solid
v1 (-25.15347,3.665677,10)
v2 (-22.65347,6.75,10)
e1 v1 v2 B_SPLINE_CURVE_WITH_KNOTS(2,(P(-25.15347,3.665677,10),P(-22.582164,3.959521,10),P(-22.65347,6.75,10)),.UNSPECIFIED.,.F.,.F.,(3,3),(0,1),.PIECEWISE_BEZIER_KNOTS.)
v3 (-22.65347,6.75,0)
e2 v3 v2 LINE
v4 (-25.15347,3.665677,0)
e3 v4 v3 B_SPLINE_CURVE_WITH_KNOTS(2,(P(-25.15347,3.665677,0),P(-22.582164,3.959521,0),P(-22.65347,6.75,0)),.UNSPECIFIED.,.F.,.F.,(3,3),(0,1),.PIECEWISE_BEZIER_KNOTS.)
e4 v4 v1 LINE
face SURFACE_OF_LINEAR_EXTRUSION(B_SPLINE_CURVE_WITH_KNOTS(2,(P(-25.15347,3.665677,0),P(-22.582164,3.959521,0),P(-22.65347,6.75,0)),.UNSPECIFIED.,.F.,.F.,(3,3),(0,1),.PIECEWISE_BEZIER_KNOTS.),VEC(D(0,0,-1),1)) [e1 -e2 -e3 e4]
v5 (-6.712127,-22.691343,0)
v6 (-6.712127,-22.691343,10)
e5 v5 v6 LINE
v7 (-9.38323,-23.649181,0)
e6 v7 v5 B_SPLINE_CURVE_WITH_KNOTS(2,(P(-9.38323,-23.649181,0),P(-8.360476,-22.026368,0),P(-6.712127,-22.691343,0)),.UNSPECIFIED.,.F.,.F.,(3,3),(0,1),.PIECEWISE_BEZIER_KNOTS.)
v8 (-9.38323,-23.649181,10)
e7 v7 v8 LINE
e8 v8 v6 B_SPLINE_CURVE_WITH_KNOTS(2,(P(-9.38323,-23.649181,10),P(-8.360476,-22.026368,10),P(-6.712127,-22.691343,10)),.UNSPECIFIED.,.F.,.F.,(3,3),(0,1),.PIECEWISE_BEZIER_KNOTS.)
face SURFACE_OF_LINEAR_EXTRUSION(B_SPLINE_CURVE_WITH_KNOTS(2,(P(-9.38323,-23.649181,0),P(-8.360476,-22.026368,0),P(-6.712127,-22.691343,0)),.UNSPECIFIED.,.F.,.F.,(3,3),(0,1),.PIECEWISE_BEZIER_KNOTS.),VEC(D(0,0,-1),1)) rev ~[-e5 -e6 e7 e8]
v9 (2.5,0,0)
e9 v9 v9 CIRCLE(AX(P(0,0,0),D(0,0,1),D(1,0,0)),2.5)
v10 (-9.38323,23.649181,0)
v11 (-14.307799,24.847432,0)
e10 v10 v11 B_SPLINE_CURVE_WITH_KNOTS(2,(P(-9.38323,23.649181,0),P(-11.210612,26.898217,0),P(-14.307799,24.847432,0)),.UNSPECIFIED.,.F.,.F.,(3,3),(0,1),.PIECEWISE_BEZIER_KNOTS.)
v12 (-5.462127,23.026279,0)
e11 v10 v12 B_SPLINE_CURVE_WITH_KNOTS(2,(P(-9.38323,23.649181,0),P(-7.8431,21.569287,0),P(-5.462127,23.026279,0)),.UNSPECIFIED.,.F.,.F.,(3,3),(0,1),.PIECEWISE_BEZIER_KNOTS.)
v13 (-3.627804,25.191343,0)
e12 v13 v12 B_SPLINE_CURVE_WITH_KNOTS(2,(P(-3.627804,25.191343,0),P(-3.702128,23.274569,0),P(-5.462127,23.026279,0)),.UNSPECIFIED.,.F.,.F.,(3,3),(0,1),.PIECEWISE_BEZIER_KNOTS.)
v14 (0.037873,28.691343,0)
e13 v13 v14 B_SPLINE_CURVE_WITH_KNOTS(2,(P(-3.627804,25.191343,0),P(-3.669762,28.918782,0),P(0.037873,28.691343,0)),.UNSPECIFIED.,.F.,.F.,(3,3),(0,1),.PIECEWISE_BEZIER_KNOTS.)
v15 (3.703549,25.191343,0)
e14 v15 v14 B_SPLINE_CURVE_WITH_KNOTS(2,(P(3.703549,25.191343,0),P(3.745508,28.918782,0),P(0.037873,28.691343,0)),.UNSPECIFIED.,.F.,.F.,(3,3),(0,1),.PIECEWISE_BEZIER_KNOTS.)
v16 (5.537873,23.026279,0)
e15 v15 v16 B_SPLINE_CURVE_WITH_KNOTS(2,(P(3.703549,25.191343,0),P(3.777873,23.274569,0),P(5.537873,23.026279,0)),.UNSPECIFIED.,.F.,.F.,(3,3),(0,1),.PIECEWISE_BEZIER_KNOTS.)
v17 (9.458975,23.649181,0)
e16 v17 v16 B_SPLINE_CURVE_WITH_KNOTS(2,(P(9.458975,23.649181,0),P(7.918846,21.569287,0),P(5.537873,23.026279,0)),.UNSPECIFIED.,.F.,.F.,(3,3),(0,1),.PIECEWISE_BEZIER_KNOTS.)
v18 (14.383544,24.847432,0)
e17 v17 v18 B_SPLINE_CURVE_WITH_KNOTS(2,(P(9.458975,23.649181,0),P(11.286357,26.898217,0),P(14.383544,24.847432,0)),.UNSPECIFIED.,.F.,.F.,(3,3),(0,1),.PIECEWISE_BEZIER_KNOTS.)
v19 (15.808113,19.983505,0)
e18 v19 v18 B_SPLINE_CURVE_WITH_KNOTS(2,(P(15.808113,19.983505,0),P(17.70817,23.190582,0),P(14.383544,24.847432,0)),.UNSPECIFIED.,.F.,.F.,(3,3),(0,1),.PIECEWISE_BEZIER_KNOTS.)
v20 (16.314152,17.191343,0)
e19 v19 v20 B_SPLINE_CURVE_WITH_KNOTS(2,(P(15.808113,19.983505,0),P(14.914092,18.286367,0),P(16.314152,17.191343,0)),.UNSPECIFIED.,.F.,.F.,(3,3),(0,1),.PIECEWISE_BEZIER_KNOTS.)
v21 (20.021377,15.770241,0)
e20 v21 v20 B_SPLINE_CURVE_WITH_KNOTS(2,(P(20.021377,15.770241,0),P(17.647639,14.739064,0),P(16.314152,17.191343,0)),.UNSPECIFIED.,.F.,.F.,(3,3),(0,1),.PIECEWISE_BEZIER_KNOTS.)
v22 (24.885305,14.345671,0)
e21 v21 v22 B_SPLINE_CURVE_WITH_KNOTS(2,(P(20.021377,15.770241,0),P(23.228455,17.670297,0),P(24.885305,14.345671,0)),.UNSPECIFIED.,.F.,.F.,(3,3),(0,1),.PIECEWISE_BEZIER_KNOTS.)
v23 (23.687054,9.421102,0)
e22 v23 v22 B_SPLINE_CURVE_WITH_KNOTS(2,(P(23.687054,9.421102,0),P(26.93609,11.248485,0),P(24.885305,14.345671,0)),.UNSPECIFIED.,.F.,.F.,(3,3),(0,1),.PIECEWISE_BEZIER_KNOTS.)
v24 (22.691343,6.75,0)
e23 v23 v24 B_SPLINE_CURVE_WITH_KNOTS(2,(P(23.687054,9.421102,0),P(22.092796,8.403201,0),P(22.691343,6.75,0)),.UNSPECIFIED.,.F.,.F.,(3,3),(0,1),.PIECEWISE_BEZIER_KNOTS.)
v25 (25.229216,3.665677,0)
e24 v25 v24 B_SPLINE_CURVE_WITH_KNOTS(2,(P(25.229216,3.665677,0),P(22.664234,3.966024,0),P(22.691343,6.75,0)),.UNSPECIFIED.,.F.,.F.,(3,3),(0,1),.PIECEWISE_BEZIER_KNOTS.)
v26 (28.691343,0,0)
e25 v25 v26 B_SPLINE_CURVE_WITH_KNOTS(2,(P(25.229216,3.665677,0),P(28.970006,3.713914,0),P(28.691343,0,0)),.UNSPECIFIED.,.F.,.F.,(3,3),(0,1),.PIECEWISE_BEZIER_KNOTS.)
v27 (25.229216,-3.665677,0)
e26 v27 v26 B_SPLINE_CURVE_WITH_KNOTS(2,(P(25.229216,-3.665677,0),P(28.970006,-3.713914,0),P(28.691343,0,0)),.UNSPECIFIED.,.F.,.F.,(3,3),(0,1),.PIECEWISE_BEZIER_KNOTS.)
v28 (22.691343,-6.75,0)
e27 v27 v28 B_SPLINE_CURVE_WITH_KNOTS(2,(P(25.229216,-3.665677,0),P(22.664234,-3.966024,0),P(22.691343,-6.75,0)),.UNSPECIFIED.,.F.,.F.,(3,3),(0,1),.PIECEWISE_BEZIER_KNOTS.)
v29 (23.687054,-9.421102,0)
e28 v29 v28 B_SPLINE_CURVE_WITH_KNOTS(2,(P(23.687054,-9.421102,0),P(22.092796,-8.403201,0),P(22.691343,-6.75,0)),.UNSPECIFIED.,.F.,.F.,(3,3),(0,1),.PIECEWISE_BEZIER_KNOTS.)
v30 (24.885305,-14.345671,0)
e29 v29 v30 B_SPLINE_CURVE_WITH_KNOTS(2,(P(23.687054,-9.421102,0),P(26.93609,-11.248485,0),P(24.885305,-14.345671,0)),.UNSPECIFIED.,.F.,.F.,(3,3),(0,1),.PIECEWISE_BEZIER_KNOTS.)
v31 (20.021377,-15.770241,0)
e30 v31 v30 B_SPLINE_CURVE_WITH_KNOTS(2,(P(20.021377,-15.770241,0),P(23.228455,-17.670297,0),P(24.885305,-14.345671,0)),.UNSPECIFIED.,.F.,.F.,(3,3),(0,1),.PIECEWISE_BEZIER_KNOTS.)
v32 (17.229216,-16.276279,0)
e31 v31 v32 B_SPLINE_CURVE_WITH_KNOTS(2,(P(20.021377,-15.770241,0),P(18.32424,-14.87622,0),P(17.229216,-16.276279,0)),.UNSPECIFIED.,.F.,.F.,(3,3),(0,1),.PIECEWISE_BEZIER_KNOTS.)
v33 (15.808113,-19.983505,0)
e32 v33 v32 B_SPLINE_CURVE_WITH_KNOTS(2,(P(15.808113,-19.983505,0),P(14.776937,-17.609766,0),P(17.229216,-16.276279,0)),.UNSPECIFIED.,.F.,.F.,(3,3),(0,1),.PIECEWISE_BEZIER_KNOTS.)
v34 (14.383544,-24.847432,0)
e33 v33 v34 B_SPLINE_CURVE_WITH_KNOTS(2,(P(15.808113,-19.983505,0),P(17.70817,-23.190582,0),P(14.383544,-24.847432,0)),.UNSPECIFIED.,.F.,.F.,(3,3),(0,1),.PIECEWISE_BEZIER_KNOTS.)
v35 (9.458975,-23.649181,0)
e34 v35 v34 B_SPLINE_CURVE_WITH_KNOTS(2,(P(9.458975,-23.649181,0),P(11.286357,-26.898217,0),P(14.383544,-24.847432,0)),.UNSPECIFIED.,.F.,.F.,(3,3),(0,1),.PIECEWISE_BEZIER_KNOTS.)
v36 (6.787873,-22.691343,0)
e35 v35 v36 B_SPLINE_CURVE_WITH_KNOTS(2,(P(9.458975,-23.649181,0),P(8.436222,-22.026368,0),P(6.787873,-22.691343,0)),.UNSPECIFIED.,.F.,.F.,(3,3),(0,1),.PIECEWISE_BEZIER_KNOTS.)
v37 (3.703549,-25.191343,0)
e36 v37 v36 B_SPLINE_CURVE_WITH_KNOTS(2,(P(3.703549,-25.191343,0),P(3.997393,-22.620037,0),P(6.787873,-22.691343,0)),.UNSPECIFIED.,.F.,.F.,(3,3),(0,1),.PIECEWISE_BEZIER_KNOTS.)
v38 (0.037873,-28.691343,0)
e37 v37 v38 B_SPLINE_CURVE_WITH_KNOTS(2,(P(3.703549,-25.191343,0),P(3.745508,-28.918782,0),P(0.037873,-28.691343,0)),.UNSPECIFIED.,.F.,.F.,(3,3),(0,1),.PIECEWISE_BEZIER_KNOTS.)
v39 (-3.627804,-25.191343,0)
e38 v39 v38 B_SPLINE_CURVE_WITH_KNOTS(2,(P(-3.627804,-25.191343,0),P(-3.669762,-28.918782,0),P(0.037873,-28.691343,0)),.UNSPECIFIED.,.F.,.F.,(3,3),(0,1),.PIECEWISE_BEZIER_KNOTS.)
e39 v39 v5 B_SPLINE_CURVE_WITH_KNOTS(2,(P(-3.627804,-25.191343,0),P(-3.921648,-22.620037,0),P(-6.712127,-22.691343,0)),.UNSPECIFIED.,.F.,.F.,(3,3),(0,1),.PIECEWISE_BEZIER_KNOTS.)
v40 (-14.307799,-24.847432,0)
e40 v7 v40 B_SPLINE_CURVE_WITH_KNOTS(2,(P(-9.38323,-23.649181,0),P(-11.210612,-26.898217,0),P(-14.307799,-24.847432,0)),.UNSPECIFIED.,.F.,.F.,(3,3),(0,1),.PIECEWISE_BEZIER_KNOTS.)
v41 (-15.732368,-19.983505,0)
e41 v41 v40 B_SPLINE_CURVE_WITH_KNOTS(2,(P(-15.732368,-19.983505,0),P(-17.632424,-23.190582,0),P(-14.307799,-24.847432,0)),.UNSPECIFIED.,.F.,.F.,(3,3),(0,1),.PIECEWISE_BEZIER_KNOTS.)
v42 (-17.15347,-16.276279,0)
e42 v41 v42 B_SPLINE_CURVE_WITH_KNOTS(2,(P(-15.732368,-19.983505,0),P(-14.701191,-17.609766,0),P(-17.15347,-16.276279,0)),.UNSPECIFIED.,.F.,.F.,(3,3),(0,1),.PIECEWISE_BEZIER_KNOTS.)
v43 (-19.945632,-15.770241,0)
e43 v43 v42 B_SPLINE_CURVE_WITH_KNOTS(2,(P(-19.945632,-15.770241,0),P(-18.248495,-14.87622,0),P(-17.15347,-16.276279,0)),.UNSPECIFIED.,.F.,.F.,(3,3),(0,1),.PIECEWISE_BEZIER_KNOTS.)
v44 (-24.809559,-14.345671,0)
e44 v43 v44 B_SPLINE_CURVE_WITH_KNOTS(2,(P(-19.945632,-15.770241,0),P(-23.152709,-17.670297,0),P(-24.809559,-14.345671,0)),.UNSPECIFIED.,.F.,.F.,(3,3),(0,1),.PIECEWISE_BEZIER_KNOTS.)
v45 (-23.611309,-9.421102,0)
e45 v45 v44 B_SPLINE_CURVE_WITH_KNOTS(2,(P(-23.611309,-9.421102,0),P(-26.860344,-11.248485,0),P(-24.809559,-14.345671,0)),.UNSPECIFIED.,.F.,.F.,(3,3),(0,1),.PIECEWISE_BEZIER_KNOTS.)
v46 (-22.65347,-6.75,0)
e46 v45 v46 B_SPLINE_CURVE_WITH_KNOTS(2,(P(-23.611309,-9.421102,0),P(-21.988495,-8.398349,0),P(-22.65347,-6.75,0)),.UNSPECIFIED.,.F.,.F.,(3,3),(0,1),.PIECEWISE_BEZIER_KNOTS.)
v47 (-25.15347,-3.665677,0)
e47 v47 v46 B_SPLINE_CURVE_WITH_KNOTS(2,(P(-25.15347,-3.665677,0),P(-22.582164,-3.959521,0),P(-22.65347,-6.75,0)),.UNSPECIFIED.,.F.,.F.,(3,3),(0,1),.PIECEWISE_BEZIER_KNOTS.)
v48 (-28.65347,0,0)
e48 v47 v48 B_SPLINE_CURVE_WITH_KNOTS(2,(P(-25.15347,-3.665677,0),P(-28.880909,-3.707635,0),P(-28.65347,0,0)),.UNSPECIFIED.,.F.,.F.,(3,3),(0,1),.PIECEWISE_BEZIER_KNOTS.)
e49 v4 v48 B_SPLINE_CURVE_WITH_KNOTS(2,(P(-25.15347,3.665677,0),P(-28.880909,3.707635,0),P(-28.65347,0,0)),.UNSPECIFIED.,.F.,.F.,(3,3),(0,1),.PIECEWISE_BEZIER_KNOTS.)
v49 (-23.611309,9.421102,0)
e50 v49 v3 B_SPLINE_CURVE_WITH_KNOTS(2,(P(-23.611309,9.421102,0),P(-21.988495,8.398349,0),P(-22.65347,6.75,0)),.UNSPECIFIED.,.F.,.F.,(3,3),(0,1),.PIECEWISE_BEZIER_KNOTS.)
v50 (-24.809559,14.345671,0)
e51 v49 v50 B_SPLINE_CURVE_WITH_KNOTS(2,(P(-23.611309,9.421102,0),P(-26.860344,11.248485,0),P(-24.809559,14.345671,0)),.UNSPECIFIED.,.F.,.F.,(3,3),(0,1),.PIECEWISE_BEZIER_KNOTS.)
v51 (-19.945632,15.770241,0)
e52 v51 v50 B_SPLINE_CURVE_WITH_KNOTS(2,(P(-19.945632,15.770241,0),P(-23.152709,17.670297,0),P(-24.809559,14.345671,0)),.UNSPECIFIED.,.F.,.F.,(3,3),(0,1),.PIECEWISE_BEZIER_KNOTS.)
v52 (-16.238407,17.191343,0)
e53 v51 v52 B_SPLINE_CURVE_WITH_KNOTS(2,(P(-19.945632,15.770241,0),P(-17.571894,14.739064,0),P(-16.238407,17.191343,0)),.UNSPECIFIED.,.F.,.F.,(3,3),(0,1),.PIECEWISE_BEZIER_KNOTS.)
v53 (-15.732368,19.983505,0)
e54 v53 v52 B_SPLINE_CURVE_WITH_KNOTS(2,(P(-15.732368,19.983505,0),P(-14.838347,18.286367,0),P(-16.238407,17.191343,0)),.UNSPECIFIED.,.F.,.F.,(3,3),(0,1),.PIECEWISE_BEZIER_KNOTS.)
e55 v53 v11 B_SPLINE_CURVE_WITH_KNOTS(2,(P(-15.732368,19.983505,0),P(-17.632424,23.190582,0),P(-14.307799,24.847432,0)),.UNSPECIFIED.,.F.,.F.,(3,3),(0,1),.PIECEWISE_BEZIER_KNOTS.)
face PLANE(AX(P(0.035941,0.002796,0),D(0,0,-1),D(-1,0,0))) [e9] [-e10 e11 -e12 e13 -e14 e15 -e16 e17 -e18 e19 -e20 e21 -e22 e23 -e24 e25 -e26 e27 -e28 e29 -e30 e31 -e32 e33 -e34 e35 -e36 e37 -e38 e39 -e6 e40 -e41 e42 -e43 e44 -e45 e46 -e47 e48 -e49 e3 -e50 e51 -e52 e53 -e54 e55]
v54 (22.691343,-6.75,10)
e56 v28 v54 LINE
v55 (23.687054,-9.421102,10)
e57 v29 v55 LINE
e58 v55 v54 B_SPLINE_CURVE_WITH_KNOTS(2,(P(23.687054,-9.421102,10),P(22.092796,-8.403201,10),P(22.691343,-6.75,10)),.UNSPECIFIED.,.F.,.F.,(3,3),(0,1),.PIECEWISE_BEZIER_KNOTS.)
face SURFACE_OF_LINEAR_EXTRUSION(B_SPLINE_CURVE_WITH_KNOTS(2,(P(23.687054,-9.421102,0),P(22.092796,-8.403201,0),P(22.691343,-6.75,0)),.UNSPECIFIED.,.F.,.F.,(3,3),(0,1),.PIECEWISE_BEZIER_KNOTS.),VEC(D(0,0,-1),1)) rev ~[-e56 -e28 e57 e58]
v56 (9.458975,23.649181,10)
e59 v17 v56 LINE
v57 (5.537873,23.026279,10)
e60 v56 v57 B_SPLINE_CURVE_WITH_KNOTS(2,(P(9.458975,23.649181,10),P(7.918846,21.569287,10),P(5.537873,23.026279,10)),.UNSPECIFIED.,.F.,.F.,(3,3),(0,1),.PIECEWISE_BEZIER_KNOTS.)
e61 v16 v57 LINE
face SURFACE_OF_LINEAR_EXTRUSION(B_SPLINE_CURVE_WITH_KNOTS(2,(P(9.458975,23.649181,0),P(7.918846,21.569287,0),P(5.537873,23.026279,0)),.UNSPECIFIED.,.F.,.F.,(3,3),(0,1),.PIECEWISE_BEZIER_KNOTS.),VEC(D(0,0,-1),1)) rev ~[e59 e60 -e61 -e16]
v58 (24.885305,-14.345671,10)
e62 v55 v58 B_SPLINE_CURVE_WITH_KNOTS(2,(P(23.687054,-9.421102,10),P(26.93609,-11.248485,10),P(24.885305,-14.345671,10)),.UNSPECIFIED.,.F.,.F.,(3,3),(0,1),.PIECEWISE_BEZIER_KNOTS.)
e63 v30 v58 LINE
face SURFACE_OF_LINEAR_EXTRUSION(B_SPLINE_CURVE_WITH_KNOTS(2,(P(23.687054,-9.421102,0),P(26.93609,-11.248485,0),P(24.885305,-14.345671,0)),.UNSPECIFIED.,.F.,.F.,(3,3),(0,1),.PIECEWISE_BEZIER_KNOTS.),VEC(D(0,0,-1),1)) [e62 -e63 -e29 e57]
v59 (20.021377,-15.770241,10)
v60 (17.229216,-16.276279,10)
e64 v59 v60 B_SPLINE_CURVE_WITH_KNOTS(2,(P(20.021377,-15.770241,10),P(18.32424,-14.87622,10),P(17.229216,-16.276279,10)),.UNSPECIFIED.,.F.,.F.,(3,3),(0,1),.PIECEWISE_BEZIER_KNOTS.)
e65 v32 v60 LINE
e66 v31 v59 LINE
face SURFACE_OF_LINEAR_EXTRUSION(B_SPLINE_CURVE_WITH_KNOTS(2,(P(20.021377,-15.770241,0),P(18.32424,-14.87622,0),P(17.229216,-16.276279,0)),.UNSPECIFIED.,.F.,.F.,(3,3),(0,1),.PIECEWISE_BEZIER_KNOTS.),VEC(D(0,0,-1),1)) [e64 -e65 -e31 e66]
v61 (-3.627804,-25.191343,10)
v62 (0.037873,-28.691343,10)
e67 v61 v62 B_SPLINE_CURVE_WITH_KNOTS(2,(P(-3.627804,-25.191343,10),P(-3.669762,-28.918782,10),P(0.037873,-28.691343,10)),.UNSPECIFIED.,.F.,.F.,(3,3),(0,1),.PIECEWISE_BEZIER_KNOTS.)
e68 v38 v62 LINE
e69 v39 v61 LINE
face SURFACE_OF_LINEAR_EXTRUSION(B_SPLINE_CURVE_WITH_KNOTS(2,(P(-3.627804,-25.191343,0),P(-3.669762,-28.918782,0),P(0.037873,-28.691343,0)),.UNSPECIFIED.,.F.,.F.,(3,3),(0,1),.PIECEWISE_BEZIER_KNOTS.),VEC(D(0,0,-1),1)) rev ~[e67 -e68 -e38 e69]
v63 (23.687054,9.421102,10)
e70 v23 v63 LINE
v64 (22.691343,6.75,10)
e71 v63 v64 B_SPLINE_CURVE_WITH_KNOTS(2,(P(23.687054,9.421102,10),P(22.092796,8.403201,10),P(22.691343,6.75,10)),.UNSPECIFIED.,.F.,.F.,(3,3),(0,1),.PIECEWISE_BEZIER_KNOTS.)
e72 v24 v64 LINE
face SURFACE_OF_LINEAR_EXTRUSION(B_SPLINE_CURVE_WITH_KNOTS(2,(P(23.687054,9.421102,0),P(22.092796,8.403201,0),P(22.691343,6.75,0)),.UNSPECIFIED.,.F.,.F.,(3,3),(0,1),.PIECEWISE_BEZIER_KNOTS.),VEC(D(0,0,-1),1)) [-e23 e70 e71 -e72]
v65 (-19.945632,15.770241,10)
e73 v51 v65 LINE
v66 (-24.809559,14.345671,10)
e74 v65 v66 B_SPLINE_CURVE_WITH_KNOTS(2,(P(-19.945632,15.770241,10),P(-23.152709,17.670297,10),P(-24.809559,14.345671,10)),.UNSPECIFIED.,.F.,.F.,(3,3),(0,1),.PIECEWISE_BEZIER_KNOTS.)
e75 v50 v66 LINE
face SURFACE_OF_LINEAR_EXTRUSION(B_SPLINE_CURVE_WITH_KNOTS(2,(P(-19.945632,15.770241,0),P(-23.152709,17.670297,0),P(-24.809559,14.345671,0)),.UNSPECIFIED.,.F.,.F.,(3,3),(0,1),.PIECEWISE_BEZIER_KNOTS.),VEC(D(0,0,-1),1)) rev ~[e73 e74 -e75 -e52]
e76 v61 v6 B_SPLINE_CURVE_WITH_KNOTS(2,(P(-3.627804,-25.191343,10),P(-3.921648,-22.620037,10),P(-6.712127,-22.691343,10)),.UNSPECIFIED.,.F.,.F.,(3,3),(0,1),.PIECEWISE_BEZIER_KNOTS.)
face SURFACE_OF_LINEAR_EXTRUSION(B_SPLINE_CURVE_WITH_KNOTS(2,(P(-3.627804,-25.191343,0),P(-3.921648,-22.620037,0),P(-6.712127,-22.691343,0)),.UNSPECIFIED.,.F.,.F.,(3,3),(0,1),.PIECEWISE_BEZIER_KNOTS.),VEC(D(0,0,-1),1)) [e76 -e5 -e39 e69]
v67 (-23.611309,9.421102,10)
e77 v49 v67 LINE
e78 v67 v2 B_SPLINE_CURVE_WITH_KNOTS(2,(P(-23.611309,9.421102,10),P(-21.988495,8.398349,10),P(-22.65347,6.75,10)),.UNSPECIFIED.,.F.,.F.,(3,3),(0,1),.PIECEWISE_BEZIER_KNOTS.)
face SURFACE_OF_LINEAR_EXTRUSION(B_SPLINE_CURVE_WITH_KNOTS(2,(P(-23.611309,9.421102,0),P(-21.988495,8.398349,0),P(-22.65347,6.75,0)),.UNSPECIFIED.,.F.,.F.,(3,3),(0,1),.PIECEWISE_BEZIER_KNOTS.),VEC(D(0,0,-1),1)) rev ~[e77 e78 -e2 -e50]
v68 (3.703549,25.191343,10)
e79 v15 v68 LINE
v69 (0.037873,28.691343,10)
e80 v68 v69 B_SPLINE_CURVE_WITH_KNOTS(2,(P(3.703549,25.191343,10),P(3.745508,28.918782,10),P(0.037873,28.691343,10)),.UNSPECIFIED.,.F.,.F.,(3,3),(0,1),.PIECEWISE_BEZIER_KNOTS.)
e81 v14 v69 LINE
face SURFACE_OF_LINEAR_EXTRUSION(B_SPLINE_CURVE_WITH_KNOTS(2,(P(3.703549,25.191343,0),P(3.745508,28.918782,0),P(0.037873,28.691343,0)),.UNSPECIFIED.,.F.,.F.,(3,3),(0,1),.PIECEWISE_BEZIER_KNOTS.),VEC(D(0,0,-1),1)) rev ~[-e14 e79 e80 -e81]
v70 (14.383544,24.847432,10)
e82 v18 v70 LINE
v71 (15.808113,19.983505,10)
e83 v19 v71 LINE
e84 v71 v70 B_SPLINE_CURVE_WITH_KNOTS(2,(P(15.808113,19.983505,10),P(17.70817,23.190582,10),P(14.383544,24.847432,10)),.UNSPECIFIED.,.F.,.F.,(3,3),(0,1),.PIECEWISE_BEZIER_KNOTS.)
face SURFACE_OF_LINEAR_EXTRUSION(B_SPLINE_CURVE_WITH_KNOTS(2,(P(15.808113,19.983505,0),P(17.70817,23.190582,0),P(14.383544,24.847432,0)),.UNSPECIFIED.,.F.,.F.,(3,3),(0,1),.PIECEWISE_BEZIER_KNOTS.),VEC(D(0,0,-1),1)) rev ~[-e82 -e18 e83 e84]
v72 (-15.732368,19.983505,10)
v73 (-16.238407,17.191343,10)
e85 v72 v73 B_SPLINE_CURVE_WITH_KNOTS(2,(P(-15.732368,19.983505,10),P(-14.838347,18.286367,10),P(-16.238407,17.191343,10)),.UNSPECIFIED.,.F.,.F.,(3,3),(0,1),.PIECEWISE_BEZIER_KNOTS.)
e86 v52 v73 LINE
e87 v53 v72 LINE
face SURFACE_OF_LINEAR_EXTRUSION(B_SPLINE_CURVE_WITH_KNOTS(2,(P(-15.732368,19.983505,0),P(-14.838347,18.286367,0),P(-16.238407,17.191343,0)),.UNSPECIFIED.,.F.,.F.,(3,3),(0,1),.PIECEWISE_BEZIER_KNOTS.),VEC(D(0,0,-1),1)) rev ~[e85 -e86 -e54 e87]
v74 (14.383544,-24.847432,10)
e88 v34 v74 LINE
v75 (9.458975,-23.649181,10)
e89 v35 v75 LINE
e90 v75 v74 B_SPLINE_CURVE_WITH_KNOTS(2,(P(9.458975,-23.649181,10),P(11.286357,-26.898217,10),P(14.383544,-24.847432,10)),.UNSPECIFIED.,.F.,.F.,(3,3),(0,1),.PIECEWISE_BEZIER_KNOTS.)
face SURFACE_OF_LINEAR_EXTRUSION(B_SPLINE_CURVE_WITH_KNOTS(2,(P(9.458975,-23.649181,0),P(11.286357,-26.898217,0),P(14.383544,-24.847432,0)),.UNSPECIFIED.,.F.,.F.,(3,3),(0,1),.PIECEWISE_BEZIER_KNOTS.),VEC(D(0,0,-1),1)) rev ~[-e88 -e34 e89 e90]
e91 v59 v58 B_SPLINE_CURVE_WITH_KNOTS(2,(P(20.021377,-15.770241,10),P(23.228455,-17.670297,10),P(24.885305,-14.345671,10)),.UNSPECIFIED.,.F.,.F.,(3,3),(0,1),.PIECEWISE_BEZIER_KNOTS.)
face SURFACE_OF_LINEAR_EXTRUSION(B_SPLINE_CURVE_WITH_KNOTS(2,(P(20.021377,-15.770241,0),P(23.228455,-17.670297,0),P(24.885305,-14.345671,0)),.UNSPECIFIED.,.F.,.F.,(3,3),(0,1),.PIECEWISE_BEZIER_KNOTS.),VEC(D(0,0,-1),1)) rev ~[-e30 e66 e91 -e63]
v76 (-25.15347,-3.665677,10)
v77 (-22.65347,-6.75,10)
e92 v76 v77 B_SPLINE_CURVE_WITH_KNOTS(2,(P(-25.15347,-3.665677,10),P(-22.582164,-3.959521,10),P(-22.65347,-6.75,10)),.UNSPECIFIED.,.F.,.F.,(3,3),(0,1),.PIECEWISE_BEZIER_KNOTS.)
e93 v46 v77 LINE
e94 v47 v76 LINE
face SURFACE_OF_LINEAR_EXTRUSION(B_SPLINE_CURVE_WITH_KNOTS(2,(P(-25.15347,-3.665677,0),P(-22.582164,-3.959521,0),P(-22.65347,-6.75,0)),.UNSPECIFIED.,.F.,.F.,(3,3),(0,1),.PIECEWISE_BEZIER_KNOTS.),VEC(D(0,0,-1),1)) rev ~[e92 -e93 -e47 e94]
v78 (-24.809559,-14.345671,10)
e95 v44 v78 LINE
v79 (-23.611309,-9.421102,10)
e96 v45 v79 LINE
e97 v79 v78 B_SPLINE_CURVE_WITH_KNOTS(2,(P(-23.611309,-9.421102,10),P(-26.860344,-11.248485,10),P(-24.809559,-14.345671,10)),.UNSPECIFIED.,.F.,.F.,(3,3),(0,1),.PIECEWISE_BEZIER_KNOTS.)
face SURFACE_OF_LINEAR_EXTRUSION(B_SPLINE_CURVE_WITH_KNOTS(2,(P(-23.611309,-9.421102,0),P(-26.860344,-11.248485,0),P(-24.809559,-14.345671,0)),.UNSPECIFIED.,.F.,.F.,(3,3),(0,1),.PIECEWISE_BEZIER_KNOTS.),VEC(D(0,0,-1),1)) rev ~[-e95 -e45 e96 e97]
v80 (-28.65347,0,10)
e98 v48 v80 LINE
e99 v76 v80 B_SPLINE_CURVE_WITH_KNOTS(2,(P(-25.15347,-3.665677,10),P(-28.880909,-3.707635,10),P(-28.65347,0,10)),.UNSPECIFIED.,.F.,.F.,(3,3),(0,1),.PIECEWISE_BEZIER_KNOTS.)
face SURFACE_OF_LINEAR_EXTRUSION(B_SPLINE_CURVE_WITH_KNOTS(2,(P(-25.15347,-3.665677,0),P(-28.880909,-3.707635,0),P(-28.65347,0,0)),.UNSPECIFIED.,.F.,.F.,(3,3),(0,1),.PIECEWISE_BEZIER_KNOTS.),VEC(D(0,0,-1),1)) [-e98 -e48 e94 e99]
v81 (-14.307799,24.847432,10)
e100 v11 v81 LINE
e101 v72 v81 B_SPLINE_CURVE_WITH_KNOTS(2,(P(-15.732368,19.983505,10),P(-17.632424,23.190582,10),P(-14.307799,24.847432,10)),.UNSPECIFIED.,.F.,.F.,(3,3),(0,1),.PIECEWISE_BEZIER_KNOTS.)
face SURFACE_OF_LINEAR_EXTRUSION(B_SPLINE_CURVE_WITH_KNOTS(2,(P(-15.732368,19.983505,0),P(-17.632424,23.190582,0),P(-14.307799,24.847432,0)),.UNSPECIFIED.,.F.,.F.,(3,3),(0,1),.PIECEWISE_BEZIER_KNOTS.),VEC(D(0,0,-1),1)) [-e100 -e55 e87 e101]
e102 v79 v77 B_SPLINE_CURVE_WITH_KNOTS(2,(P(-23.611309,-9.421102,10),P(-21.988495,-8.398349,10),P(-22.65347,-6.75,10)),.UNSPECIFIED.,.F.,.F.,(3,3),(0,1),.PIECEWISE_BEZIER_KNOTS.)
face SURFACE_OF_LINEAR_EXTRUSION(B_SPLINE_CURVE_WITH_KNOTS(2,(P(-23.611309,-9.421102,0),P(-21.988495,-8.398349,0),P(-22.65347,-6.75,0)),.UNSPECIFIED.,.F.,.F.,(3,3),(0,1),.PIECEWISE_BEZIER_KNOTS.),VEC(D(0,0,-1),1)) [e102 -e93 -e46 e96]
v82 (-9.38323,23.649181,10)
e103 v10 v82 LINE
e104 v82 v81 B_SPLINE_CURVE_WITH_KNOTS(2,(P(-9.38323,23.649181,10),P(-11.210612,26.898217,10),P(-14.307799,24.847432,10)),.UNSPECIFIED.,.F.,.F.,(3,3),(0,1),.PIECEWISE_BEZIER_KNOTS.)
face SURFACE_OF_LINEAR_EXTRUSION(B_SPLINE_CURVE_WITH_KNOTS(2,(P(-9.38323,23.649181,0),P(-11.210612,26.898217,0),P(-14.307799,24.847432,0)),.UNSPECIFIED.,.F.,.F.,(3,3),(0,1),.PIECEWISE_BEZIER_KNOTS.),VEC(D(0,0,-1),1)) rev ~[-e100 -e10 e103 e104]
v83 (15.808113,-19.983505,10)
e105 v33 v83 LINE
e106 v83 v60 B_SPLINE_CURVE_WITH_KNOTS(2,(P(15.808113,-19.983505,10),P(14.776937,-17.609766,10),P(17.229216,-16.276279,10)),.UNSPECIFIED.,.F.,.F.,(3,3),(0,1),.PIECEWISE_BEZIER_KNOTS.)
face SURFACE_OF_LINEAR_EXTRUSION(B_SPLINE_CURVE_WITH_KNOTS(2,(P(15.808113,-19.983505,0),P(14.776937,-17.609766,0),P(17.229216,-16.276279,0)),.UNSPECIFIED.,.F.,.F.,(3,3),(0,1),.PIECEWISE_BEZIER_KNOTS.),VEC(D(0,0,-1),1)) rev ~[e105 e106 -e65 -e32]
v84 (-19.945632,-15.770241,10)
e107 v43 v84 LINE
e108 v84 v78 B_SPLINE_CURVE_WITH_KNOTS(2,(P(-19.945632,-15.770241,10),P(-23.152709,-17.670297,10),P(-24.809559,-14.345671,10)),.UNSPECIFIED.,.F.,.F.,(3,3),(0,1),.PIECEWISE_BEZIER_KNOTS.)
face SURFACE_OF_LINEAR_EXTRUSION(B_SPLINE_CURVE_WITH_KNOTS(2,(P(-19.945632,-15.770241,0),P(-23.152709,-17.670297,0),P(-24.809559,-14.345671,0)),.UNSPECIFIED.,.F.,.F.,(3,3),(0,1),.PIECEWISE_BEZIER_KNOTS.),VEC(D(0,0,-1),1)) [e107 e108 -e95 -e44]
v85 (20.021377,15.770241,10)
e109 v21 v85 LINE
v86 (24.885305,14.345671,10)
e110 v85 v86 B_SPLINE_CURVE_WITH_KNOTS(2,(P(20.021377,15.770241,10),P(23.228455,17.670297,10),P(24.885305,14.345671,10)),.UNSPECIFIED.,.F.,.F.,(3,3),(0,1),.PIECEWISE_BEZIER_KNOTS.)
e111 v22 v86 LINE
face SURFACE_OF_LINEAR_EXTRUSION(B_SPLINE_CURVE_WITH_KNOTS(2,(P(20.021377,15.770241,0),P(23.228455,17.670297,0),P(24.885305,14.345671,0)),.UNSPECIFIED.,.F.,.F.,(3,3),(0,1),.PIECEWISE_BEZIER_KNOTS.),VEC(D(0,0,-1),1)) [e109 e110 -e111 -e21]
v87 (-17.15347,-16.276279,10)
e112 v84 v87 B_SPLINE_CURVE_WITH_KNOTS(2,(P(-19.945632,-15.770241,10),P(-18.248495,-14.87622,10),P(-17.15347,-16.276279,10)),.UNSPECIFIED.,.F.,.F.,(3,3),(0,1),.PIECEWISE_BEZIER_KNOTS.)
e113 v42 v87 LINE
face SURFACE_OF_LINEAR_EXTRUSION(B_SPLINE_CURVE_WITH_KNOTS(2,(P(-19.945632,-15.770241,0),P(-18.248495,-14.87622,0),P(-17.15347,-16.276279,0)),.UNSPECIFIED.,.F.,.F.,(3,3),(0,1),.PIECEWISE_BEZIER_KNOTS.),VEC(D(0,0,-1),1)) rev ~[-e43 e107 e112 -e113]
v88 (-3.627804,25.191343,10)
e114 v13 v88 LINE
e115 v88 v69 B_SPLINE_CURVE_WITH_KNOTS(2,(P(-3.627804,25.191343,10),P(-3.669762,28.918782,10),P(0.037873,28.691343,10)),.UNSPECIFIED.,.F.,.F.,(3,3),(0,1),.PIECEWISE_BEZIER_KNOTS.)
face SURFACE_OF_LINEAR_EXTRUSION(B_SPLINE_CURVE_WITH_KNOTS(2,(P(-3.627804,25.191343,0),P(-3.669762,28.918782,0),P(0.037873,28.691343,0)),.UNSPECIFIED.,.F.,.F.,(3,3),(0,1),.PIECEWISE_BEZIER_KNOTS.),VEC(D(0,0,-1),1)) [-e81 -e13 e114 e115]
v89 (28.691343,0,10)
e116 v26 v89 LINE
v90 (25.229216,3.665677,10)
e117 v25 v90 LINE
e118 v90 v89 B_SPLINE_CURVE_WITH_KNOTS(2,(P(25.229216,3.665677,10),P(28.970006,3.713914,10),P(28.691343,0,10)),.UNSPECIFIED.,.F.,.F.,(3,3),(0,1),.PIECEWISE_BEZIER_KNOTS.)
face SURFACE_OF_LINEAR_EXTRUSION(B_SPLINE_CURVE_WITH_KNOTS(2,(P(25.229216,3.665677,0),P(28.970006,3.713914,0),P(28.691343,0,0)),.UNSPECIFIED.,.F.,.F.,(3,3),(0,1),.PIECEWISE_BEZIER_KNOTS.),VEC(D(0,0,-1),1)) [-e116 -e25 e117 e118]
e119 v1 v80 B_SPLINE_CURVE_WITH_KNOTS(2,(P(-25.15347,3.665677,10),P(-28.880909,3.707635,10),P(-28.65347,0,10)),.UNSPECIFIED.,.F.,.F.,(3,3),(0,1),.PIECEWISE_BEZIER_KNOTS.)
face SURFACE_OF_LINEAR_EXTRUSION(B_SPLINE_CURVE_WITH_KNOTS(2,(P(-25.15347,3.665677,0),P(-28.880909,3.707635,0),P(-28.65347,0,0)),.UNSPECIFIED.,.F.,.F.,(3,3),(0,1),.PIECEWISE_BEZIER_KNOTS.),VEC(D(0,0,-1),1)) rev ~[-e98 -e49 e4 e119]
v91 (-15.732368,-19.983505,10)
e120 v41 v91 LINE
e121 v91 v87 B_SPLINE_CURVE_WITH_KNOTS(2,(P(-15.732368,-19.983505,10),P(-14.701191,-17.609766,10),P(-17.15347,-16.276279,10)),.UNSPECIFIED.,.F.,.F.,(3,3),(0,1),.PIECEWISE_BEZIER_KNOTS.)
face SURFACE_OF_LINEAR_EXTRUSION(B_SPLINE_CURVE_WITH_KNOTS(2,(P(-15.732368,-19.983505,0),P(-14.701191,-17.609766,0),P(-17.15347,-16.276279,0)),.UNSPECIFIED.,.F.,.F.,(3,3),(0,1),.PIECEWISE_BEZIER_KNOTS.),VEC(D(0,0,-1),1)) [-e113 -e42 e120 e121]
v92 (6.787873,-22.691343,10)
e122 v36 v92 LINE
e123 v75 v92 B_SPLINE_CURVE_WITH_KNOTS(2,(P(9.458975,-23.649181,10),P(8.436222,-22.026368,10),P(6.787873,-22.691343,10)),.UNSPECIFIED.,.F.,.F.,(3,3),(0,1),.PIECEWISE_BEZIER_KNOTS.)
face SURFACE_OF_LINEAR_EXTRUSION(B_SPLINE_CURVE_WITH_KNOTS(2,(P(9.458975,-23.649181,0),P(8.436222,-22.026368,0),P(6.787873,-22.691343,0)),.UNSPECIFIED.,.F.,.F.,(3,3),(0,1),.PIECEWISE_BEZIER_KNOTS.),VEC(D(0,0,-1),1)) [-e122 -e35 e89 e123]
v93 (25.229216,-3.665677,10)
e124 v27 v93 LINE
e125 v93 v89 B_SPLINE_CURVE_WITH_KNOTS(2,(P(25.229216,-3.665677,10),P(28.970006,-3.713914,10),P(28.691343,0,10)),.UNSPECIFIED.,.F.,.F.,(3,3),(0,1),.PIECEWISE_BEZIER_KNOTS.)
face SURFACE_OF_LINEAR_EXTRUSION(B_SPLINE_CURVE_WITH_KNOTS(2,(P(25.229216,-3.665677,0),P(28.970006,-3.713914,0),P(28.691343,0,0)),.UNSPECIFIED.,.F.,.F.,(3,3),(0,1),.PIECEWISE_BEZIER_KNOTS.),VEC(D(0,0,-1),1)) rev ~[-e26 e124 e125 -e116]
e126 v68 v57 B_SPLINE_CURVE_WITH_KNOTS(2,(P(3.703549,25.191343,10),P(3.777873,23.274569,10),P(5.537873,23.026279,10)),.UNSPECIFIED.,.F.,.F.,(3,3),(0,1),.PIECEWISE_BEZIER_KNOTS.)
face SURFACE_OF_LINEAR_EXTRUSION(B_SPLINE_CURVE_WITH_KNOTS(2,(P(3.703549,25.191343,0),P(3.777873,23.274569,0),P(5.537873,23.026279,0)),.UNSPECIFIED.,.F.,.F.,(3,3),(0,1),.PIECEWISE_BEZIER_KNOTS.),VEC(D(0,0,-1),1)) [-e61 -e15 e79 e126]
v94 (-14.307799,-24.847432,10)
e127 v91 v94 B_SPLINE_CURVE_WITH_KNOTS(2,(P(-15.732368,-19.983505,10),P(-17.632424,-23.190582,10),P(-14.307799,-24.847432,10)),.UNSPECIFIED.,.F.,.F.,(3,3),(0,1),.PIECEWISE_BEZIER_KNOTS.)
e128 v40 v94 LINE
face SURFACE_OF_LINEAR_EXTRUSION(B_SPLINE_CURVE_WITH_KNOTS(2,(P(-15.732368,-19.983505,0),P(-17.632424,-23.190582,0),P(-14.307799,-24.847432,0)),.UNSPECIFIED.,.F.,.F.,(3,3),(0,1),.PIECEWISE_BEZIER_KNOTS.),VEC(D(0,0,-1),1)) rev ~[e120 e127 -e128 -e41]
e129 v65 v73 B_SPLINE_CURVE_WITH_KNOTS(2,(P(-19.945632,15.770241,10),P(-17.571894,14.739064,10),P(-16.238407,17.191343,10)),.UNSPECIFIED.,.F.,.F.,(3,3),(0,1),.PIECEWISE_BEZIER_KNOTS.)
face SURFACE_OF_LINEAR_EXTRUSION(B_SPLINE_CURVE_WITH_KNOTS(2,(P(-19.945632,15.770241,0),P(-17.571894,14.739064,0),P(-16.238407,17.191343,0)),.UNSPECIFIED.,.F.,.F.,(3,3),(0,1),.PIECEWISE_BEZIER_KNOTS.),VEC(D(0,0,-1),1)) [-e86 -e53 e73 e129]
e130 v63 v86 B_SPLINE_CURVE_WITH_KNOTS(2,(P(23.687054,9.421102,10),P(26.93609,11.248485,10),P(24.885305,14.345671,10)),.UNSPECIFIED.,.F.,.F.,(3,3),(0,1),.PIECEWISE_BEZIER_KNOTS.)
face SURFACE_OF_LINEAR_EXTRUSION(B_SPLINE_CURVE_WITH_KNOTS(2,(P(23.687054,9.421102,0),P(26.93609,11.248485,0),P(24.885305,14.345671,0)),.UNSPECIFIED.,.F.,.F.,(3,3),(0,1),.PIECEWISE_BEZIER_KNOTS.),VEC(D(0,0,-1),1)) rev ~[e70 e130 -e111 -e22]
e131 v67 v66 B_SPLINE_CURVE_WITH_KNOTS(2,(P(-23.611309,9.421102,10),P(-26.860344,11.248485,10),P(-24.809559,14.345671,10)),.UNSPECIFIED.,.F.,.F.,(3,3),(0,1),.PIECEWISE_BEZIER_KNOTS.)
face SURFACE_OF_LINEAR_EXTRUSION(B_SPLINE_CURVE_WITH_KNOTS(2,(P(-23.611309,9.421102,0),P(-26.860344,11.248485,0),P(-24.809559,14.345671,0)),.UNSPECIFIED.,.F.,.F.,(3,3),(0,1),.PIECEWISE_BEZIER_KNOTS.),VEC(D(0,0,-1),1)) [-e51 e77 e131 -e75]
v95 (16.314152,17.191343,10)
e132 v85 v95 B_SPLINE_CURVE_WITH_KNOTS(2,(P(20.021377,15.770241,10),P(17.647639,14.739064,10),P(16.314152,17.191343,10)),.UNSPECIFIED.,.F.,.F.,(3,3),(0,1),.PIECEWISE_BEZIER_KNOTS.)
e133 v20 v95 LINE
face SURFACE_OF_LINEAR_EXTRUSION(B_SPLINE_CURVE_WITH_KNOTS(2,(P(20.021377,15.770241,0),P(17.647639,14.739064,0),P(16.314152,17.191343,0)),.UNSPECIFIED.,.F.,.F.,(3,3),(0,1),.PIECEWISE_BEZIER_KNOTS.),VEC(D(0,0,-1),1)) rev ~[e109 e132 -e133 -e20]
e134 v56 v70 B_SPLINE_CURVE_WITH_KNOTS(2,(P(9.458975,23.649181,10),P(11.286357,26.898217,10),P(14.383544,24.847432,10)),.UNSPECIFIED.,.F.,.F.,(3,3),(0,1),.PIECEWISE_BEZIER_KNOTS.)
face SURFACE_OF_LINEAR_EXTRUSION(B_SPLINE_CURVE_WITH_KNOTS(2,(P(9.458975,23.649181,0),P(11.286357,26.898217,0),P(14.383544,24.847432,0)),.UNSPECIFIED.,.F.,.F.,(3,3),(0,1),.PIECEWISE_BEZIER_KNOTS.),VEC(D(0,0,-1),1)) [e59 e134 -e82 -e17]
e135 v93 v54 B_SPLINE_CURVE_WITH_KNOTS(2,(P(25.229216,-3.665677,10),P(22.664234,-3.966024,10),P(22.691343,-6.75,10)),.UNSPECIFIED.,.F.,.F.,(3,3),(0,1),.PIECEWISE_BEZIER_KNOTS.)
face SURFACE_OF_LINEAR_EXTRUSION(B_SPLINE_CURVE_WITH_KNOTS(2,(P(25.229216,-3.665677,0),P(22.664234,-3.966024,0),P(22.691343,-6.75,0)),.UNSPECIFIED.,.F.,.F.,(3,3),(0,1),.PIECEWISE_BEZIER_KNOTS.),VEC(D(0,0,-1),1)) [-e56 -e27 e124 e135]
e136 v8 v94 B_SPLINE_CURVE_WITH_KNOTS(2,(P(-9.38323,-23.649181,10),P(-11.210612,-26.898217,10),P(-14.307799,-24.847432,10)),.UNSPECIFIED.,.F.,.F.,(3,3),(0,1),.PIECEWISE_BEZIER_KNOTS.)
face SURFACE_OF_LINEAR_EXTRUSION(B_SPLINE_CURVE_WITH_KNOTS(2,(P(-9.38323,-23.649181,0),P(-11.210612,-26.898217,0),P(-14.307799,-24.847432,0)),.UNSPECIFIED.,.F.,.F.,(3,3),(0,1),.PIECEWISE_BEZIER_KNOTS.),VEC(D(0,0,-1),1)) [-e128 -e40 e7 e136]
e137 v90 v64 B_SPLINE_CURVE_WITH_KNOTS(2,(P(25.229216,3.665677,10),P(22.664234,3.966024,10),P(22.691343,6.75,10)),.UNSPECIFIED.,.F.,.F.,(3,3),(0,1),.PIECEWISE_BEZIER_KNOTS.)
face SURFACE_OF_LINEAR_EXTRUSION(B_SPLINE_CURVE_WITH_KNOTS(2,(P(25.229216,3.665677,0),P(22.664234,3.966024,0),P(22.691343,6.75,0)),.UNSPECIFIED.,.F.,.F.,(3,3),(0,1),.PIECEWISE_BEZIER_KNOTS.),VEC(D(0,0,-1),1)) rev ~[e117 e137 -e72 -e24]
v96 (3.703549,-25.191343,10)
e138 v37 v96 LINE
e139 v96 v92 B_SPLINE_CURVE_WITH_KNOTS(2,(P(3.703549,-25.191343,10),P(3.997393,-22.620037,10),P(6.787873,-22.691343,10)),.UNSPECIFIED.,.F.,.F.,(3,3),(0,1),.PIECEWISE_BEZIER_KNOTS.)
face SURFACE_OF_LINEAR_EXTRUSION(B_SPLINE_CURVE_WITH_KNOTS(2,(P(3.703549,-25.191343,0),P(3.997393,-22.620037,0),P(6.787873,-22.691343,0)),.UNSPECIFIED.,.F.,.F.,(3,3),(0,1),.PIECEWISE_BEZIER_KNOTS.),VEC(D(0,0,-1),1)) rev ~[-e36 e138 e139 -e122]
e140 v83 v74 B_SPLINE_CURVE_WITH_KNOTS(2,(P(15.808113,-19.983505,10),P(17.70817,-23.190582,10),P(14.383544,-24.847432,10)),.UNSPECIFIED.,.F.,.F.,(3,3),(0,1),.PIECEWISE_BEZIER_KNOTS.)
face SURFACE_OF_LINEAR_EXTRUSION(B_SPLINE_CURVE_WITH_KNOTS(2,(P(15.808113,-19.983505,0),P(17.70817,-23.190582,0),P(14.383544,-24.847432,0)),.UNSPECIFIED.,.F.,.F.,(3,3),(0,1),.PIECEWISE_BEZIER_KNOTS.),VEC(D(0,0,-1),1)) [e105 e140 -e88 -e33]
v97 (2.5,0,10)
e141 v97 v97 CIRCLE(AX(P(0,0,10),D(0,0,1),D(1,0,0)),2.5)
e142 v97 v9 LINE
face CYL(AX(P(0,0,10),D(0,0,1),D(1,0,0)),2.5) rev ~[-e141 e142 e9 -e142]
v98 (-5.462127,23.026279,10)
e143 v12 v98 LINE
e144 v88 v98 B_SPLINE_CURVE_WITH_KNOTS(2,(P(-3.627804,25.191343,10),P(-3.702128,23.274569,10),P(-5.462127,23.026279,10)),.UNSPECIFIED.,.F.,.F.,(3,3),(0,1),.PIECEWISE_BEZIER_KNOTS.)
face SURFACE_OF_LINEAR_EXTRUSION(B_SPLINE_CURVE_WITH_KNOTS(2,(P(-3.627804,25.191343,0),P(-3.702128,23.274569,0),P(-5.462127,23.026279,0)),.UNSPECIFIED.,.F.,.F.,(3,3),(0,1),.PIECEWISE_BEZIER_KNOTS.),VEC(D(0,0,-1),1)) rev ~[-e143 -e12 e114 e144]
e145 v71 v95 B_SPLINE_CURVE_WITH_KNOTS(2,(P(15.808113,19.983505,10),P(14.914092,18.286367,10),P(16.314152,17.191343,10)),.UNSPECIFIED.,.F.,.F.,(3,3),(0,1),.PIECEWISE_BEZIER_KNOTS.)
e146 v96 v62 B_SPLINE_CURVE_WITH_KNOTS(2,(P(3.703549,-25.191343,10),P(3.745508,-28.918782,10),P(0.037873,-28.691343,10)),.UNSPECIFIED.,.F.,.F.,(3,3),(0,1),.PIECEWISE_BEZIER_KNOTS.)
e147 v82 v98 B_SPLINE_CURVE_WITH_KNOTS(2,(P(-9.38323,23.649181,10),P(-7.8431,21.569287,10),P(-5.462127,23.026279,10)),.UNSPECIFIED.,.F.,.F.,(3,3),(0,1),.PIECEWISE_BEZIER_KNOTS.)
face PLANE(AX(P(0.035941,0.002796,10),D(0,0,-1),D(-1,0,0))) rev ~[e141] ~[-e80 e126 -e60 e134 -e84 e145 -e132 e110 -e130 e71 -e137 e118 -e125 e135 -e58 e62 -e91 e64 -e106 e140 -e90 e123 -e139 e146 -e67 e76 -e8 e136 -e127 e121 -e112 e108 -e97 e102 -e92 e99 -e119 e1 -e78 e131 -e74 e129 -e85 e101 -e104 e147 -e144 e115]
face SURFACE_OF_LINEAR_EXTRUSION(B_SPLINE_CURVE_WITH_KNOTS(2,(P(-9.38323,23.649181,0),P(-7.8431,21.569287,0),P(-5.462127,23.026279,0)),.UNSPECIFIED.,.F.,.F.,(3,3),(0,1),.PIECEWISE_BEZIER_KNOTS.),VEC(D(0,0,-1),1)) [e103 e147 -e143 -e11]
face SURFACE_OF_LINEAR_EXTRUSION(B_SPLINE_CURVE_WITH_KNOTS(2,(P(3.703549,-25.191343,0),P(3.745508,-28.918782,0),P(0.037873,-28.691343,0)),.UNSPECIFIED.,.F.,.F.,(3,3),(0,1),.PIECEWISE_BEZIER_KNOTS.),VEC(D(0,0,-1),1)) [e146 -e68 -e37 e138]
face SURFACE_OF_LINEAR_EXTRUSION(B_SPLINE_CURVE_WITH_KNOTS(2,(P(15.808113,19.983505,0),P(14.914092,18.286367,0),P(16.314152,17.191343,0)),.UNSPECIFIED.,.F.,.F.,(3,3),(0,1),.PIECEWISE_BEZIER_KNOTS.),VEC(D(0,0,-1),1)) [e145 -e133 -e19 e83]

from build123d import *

# Parameters (mm, degrees)
BOSS_EXTRUDE1_DEPTH = 10
SKETCH2_R           = 2.5
CUT_EXTRUDE1_DEPTH  = 10


with BuildPart() as part:
    # Sketch1 → Boss-Extrude1 (new body)
    with BuildSketch(Plane.XY):
        with BuildLine():
            add(Edge.make_bspline(
                [(20.021377374, 15.770240507), (23.228454767, 17.670297014), (24.885304572, 14.345671476)],
                knots=[0, 0, 0, 1, 1, 1], degree=2))
            add(Edge.make_bspline(
                [(23.687053943, 9.421102444), (26.936089844, 11.248484685), (24.885304572, 14.345671476)],
                knots=[0, 0, 0, 1, 1, 1], degree=2))
            add(Edge.make_bspline(
                [(23.687053943, 9.421102444), (22.092796181, 8.40320107), (22.691342951, 6.75)],
                knots=[0, 0, 0, 1, 1, 1], degree=2))
            add(Edge.make_bspline(
                [(25.229215659, 3.66567657), (22.664233629, 3.966024086), (22.691342951, 6.75)],
                knots=[0, 0, 0, 1, 1, 1], degree=2))
            add(Edge.make_bspline(
                [(25.229215659, 3.66567657), (28.97000579, 3.713913663), (28.691342951, 0)],
                knots=[0, 0, 0, 1, 1, 1], degree=2))
            add(Edge.make_bspline(
                [(25.229215659, -3.66567657), (28.97000579, -3.713913663), (28.691342951, 0)],
                knots=[0, 0, 0, 1, 1, 1], degree=2))
            add(Edge.make_bspline(
                [(25.229215659, -3.66567657), (22.664233629, -3.966024086), (22.691342951, -6.75)],
                knots=[0, 0, 0, 1, 1, 1], degree=2))
            add(Edge.make_bspline(
                [(23.687053943, -9.421102444), (22.092796181, -8.40320107), (22.691342951, -6.75)],
                knots=[0, 0, 0, 1, 1, 1], degree=2))
            add(Edge.make_bspline(
                [(23.687053943, -9.421102444), (26.936089844, -11.248484685), (24.885304572, -14.345671476)],
                knots=[0, 0, 0, 1, 1, 1], degree=2))
            add(Edge.make_bspline(
                [(20.021377374, -15.770240507), (23.228454767, -17.670297014), (24.885304572, -14.345671476)],
                knots=[0, 0, 0, 1, 1, 1], degree=2))
            add(Edge.make_bspline(
                [(20.021377374, -15.770240507), (18.324240092, -14.876219604), (17.229215659, -16.276279442)],
                knots=[0, 0, 0, 1, 1, 1], degree=2))
            add(Edge.make_bspline(
                [(15.808113214, -19.983504666), (14.776936626, -17.60976644), (17.229215659, -16.276279442)],
                knots=[0, 0, 0, 1, 1, 1], degree=2))
            add(Edge.make_bspline(
                [(15.808113214, -19.983504666), (17.708169721, -23.19058206), (14.383544183, -24.847431864)],
                knots=[0, 0, 0, 1, 1, 1], degree=2))
            add(Edge.make_bspline(
                [(9.458975152, -23.649181236), (11.286357393, -26.898217136), (14.383544183, -24.847431864)],
                knots=[0, 0, 0, 1, 1, 1], degree=2))
            add(Edge.make_bspline(
                [(9.458975152, -23.649181236), (8.436221603, -22.026367781), (6.787872708, -22.691342951)],
                knots=[0, 0, 0, 1, 1, 1], degree=2))
            add(Edge.make_bspline(
                [(3.703549277, -25.191342951), (3.997393269, -22.620037051), (6.787872708, -22.691342951)],
                knots=[0, 0, 0, 1, 1, 1], degree=2))
            add(Edge.make_bspline(
                [(3.703549277, -25.191342951), (3.745507784, -28.918781699), (0.037872708, -28.691342951)],
                knots=[0, 0, 0, 1, 1, 1], degree=2))
            add(Edge.make_bspline(
                [(-3.627803862, -25.191342951), (-3.669762369, -28.918781699), (0.037872708, -28.691342951)],
                knots=[0, 0, 0, 1, 1, 1], degree=2))
            add(Edge.make_bspline(
                [(-3.627803862, -25.191342951), (-3.921647854, -22.620037051), (-6.712127292, -22.691342951)],
                knots=[0, 0, 0, 1, 1, 1], degree=2))
            add(Edge.make_bspline(
                [(-9.383229737, -23.649181236), (-8.360476188, -22.026367781), (-6.712127292, -22.691342951)],
                knots=[0, 0, 0, 1, 1, 1], degree=2))
            add(Edge.make_bspline(
                [(-9.383229737, -23.649181236), (-11.210611978, -26.898217136), (-14.307798768, -24.847431864)],
                knots=[0, 0, 0, 1, 1, 1], degree=2))
            add(Edge.make_bspline(
                [(-15.732367799, -19.983504666), (-17.632424306, -23.19058206), (-14.307798768, -24.847431864)],
                knots=[0, 0, 0, 1, 1, 1], degree=2))
            add(Edge.make_bspline(
                [(-15.732367799, -19.983504666), (-14.701191211, -17.60976644), (-17.153470244, -16.276279442)],
                knots=[0, 0, 0, 1, 1, 1], degree=2))
            add(Edge.make_bspline(
                [(-19.945631959, -15.770240507), (-18.248494677, -14.876219604), (-17.153470244, -16.276279442)],
                knots=[0, 0, 0, 1, 1, 1], degree=2))
            add(Edge.make_bspline(
                [(-19.945631959, -15.770240507), (-23.152709352, -17.670297014), (-24.809559157, -14.345671476)],
                knots=[0, 0, 0, 1, 1, 1], degree=2))
            add(Edge.make_bspline(
                [(-23.611308528, -9.421102444), (-26.860344428, -11.248484685), (-24.809559157, -14.345671476)],
                knots=[0, 0, 0, 1, 1, 1], degree=2))
            add(Edge.make_bspline(
                [(-23.611308528, -9.421102444), (-21.988495074, -8.398348896), (-22.653470244, -6.75)],
                knots=[0, 0, 0, 1, 1, 1], degree=2))
            add(Edge.make_bspline(
                [(-25.153470244, -3.66567657), (-22.582164343, -3.959520562), (-22.653470244, -6.75)],
                knots=[0, 0, 0, 1, 1, 1], degree=2))
            add(Edge.make_bspline(
                [(-25.153470244, -3.66567657), (-28.880908991, -3.707635076), (-28.653470244, 0)],
                knots=[0, 0, 0, 1, 1, 1], degree=2))
            add(Edge.make_bspline(
                [(-25.153470244, 3.66567657), (-28.880908991, 3.707635076), (-28.653470244, 0)],
                knots=[0, 0, 0, 1, 1, 1], degree=2))
            add(Edge.make_bspline(
                [(-25.153470244, 3.66567657), (-22.582164343, 3.959520562), (-22.653470244, 6.75)],
                knots=[0, 0, 0, 1, 1, 1], degree=2))
            add(Edge.make_bspline(
                [(-23.611308528, 9.421102444), (-21.988495074, 8.398348896), (-22.653470244, 6.75)],
                knots=[0, 0, 0, 1, 1, 1], degree=2))
            add(Edge.make_bspline(
                [(-23.611308528, 9.421102444), (-26.860344428, 11.248484685), (-24.809559157, 14.345671476)],
                knots=[0, 0, 0, 1, 1, 1], degree=2))
            add(Edge.make_bspline(
                [(-19.945631959, 15.770240507), (-23.152709352, 17.670297014), (-24.809559157, 14.345671476)],
                knots=[0, 0, 0, 1, 1, 1], degree=2))
            add(Edge.make_bspline(
                [(-19.945631959, 15.770240507), (-17.571893732, 14.739063919), (-16.238406734, 17.191342951)],
                knots=[0, 0, 0, 1, 1, 1], degree=2))
            add(Edge.make_bspline(
                [(-15.732367799, 19.983504666), (-14.838346896, 18.286367384), (-16.238406734, 17.191342951)],
                knots=[0, 0, 0, 1, 1, 1], degree=2))
            add(Edge.make_bspline(
                [(-15.732367799, 19.983504666), (-17.632424306, 23.19058206), (-14.307798768, 24.847431864)],
                knots=[0, 0, 0, 1, 1, 1], degree=2))
            add(Edge.make_bspline(
                [(-9.383229737, 23.649181236), (-11.210611978, 26.898217136), (-14.307798768, 24.847431864)],
                knots=[0, 0, 0, 1, 1, 1], degree=2))
            add(Edge.make_bspline(
                [(-9.383229737, 23.649181236), (-7.843100425, 21.569287002), (-5.462127292, 23.026279442)],
                knots=[0, 0, 0, 1, 1, 1], degree=2))
            add(Edge.make_bspline(
                [(-3.627803862, 25.191342951), (-3.70212769, 23.2745685), (-5.462127292, 23.026279442)],
                knots=[0, 0, 0, 1, 1, 1], degree=2))
            add(Edge.make_bspline(
                [(-3.627803862, 25.191342951), (-3.669762369, 28.918781699), (0.037872708, 28.691342951)],
                knots=[0, 0, 0, 1, 1, 1], degree=2))
            add(Edge.make_bspline(
                [(3.703549277, 25.191342951), (3.745507784, 28.918781699), (0.037872708, 28.691342951)],
                knots=[0, 0, 0, 1, 1, 1], degree=2))
            add(Edge.make_bspline(
                [(3.703549277, 25.191342951), (3.777873105, 23.2745685), (5.537872708, 23.026279442)],
                knots=[0, 0, 0, 1, 1, 1], degree=2))
            add(Edge.make_bspline(
                [(9.458975152, 23.649181236), (7.91884584, 21.569287002), (5.537872708, 23.026279442)],
                knots=[0, 0, 0, 1, 1, 1], degree=2))
            add(Edge.make_bspline(
                [(9.458975152, 23.649181236), (11.286357393, 26.898217136), (14.383544183, 24.847431864)],
                knots=[0, 0, 0, 1, 1, 1], degree=2))
            add(Edge.make_bspline(
                [(15.808113214, 19.983504666), (17.708169721, 23.19058206), (14.383544183, 24.847431864)],
                knots=[0, 0, 0, 1, 1, 1], degree=2))
            add(Edge.make_bspline(
                [(15.808113214, 19.983504666), (14.914092312, 18.286367384), (16.314152149, 17.191342951)],
                knots=[0, 0, 0, 1, 1, 1], degree=2))
            add(Edge.make_bspline(
                [(20.021377374, 15.770240507), (17.647639148, 14.739063919), (16.314152149, 17.191342951)],
                knots=[0, 0, 0, 1, 1, 1], degree=2))
        make_face()
    extrude(amount=BOSS_EXTRUDE1_DEPTH)

    # Sketch2 → Cut-Extrude1 (cut)
    with BuildSketch(Plane.XY.offset(10)):
        Circle(SKETCH2_R)
    extrude(amount=-CUT_EXTRUDE1_DEPTH, mode=Mode.SUBTRACT)


solid = part.part
